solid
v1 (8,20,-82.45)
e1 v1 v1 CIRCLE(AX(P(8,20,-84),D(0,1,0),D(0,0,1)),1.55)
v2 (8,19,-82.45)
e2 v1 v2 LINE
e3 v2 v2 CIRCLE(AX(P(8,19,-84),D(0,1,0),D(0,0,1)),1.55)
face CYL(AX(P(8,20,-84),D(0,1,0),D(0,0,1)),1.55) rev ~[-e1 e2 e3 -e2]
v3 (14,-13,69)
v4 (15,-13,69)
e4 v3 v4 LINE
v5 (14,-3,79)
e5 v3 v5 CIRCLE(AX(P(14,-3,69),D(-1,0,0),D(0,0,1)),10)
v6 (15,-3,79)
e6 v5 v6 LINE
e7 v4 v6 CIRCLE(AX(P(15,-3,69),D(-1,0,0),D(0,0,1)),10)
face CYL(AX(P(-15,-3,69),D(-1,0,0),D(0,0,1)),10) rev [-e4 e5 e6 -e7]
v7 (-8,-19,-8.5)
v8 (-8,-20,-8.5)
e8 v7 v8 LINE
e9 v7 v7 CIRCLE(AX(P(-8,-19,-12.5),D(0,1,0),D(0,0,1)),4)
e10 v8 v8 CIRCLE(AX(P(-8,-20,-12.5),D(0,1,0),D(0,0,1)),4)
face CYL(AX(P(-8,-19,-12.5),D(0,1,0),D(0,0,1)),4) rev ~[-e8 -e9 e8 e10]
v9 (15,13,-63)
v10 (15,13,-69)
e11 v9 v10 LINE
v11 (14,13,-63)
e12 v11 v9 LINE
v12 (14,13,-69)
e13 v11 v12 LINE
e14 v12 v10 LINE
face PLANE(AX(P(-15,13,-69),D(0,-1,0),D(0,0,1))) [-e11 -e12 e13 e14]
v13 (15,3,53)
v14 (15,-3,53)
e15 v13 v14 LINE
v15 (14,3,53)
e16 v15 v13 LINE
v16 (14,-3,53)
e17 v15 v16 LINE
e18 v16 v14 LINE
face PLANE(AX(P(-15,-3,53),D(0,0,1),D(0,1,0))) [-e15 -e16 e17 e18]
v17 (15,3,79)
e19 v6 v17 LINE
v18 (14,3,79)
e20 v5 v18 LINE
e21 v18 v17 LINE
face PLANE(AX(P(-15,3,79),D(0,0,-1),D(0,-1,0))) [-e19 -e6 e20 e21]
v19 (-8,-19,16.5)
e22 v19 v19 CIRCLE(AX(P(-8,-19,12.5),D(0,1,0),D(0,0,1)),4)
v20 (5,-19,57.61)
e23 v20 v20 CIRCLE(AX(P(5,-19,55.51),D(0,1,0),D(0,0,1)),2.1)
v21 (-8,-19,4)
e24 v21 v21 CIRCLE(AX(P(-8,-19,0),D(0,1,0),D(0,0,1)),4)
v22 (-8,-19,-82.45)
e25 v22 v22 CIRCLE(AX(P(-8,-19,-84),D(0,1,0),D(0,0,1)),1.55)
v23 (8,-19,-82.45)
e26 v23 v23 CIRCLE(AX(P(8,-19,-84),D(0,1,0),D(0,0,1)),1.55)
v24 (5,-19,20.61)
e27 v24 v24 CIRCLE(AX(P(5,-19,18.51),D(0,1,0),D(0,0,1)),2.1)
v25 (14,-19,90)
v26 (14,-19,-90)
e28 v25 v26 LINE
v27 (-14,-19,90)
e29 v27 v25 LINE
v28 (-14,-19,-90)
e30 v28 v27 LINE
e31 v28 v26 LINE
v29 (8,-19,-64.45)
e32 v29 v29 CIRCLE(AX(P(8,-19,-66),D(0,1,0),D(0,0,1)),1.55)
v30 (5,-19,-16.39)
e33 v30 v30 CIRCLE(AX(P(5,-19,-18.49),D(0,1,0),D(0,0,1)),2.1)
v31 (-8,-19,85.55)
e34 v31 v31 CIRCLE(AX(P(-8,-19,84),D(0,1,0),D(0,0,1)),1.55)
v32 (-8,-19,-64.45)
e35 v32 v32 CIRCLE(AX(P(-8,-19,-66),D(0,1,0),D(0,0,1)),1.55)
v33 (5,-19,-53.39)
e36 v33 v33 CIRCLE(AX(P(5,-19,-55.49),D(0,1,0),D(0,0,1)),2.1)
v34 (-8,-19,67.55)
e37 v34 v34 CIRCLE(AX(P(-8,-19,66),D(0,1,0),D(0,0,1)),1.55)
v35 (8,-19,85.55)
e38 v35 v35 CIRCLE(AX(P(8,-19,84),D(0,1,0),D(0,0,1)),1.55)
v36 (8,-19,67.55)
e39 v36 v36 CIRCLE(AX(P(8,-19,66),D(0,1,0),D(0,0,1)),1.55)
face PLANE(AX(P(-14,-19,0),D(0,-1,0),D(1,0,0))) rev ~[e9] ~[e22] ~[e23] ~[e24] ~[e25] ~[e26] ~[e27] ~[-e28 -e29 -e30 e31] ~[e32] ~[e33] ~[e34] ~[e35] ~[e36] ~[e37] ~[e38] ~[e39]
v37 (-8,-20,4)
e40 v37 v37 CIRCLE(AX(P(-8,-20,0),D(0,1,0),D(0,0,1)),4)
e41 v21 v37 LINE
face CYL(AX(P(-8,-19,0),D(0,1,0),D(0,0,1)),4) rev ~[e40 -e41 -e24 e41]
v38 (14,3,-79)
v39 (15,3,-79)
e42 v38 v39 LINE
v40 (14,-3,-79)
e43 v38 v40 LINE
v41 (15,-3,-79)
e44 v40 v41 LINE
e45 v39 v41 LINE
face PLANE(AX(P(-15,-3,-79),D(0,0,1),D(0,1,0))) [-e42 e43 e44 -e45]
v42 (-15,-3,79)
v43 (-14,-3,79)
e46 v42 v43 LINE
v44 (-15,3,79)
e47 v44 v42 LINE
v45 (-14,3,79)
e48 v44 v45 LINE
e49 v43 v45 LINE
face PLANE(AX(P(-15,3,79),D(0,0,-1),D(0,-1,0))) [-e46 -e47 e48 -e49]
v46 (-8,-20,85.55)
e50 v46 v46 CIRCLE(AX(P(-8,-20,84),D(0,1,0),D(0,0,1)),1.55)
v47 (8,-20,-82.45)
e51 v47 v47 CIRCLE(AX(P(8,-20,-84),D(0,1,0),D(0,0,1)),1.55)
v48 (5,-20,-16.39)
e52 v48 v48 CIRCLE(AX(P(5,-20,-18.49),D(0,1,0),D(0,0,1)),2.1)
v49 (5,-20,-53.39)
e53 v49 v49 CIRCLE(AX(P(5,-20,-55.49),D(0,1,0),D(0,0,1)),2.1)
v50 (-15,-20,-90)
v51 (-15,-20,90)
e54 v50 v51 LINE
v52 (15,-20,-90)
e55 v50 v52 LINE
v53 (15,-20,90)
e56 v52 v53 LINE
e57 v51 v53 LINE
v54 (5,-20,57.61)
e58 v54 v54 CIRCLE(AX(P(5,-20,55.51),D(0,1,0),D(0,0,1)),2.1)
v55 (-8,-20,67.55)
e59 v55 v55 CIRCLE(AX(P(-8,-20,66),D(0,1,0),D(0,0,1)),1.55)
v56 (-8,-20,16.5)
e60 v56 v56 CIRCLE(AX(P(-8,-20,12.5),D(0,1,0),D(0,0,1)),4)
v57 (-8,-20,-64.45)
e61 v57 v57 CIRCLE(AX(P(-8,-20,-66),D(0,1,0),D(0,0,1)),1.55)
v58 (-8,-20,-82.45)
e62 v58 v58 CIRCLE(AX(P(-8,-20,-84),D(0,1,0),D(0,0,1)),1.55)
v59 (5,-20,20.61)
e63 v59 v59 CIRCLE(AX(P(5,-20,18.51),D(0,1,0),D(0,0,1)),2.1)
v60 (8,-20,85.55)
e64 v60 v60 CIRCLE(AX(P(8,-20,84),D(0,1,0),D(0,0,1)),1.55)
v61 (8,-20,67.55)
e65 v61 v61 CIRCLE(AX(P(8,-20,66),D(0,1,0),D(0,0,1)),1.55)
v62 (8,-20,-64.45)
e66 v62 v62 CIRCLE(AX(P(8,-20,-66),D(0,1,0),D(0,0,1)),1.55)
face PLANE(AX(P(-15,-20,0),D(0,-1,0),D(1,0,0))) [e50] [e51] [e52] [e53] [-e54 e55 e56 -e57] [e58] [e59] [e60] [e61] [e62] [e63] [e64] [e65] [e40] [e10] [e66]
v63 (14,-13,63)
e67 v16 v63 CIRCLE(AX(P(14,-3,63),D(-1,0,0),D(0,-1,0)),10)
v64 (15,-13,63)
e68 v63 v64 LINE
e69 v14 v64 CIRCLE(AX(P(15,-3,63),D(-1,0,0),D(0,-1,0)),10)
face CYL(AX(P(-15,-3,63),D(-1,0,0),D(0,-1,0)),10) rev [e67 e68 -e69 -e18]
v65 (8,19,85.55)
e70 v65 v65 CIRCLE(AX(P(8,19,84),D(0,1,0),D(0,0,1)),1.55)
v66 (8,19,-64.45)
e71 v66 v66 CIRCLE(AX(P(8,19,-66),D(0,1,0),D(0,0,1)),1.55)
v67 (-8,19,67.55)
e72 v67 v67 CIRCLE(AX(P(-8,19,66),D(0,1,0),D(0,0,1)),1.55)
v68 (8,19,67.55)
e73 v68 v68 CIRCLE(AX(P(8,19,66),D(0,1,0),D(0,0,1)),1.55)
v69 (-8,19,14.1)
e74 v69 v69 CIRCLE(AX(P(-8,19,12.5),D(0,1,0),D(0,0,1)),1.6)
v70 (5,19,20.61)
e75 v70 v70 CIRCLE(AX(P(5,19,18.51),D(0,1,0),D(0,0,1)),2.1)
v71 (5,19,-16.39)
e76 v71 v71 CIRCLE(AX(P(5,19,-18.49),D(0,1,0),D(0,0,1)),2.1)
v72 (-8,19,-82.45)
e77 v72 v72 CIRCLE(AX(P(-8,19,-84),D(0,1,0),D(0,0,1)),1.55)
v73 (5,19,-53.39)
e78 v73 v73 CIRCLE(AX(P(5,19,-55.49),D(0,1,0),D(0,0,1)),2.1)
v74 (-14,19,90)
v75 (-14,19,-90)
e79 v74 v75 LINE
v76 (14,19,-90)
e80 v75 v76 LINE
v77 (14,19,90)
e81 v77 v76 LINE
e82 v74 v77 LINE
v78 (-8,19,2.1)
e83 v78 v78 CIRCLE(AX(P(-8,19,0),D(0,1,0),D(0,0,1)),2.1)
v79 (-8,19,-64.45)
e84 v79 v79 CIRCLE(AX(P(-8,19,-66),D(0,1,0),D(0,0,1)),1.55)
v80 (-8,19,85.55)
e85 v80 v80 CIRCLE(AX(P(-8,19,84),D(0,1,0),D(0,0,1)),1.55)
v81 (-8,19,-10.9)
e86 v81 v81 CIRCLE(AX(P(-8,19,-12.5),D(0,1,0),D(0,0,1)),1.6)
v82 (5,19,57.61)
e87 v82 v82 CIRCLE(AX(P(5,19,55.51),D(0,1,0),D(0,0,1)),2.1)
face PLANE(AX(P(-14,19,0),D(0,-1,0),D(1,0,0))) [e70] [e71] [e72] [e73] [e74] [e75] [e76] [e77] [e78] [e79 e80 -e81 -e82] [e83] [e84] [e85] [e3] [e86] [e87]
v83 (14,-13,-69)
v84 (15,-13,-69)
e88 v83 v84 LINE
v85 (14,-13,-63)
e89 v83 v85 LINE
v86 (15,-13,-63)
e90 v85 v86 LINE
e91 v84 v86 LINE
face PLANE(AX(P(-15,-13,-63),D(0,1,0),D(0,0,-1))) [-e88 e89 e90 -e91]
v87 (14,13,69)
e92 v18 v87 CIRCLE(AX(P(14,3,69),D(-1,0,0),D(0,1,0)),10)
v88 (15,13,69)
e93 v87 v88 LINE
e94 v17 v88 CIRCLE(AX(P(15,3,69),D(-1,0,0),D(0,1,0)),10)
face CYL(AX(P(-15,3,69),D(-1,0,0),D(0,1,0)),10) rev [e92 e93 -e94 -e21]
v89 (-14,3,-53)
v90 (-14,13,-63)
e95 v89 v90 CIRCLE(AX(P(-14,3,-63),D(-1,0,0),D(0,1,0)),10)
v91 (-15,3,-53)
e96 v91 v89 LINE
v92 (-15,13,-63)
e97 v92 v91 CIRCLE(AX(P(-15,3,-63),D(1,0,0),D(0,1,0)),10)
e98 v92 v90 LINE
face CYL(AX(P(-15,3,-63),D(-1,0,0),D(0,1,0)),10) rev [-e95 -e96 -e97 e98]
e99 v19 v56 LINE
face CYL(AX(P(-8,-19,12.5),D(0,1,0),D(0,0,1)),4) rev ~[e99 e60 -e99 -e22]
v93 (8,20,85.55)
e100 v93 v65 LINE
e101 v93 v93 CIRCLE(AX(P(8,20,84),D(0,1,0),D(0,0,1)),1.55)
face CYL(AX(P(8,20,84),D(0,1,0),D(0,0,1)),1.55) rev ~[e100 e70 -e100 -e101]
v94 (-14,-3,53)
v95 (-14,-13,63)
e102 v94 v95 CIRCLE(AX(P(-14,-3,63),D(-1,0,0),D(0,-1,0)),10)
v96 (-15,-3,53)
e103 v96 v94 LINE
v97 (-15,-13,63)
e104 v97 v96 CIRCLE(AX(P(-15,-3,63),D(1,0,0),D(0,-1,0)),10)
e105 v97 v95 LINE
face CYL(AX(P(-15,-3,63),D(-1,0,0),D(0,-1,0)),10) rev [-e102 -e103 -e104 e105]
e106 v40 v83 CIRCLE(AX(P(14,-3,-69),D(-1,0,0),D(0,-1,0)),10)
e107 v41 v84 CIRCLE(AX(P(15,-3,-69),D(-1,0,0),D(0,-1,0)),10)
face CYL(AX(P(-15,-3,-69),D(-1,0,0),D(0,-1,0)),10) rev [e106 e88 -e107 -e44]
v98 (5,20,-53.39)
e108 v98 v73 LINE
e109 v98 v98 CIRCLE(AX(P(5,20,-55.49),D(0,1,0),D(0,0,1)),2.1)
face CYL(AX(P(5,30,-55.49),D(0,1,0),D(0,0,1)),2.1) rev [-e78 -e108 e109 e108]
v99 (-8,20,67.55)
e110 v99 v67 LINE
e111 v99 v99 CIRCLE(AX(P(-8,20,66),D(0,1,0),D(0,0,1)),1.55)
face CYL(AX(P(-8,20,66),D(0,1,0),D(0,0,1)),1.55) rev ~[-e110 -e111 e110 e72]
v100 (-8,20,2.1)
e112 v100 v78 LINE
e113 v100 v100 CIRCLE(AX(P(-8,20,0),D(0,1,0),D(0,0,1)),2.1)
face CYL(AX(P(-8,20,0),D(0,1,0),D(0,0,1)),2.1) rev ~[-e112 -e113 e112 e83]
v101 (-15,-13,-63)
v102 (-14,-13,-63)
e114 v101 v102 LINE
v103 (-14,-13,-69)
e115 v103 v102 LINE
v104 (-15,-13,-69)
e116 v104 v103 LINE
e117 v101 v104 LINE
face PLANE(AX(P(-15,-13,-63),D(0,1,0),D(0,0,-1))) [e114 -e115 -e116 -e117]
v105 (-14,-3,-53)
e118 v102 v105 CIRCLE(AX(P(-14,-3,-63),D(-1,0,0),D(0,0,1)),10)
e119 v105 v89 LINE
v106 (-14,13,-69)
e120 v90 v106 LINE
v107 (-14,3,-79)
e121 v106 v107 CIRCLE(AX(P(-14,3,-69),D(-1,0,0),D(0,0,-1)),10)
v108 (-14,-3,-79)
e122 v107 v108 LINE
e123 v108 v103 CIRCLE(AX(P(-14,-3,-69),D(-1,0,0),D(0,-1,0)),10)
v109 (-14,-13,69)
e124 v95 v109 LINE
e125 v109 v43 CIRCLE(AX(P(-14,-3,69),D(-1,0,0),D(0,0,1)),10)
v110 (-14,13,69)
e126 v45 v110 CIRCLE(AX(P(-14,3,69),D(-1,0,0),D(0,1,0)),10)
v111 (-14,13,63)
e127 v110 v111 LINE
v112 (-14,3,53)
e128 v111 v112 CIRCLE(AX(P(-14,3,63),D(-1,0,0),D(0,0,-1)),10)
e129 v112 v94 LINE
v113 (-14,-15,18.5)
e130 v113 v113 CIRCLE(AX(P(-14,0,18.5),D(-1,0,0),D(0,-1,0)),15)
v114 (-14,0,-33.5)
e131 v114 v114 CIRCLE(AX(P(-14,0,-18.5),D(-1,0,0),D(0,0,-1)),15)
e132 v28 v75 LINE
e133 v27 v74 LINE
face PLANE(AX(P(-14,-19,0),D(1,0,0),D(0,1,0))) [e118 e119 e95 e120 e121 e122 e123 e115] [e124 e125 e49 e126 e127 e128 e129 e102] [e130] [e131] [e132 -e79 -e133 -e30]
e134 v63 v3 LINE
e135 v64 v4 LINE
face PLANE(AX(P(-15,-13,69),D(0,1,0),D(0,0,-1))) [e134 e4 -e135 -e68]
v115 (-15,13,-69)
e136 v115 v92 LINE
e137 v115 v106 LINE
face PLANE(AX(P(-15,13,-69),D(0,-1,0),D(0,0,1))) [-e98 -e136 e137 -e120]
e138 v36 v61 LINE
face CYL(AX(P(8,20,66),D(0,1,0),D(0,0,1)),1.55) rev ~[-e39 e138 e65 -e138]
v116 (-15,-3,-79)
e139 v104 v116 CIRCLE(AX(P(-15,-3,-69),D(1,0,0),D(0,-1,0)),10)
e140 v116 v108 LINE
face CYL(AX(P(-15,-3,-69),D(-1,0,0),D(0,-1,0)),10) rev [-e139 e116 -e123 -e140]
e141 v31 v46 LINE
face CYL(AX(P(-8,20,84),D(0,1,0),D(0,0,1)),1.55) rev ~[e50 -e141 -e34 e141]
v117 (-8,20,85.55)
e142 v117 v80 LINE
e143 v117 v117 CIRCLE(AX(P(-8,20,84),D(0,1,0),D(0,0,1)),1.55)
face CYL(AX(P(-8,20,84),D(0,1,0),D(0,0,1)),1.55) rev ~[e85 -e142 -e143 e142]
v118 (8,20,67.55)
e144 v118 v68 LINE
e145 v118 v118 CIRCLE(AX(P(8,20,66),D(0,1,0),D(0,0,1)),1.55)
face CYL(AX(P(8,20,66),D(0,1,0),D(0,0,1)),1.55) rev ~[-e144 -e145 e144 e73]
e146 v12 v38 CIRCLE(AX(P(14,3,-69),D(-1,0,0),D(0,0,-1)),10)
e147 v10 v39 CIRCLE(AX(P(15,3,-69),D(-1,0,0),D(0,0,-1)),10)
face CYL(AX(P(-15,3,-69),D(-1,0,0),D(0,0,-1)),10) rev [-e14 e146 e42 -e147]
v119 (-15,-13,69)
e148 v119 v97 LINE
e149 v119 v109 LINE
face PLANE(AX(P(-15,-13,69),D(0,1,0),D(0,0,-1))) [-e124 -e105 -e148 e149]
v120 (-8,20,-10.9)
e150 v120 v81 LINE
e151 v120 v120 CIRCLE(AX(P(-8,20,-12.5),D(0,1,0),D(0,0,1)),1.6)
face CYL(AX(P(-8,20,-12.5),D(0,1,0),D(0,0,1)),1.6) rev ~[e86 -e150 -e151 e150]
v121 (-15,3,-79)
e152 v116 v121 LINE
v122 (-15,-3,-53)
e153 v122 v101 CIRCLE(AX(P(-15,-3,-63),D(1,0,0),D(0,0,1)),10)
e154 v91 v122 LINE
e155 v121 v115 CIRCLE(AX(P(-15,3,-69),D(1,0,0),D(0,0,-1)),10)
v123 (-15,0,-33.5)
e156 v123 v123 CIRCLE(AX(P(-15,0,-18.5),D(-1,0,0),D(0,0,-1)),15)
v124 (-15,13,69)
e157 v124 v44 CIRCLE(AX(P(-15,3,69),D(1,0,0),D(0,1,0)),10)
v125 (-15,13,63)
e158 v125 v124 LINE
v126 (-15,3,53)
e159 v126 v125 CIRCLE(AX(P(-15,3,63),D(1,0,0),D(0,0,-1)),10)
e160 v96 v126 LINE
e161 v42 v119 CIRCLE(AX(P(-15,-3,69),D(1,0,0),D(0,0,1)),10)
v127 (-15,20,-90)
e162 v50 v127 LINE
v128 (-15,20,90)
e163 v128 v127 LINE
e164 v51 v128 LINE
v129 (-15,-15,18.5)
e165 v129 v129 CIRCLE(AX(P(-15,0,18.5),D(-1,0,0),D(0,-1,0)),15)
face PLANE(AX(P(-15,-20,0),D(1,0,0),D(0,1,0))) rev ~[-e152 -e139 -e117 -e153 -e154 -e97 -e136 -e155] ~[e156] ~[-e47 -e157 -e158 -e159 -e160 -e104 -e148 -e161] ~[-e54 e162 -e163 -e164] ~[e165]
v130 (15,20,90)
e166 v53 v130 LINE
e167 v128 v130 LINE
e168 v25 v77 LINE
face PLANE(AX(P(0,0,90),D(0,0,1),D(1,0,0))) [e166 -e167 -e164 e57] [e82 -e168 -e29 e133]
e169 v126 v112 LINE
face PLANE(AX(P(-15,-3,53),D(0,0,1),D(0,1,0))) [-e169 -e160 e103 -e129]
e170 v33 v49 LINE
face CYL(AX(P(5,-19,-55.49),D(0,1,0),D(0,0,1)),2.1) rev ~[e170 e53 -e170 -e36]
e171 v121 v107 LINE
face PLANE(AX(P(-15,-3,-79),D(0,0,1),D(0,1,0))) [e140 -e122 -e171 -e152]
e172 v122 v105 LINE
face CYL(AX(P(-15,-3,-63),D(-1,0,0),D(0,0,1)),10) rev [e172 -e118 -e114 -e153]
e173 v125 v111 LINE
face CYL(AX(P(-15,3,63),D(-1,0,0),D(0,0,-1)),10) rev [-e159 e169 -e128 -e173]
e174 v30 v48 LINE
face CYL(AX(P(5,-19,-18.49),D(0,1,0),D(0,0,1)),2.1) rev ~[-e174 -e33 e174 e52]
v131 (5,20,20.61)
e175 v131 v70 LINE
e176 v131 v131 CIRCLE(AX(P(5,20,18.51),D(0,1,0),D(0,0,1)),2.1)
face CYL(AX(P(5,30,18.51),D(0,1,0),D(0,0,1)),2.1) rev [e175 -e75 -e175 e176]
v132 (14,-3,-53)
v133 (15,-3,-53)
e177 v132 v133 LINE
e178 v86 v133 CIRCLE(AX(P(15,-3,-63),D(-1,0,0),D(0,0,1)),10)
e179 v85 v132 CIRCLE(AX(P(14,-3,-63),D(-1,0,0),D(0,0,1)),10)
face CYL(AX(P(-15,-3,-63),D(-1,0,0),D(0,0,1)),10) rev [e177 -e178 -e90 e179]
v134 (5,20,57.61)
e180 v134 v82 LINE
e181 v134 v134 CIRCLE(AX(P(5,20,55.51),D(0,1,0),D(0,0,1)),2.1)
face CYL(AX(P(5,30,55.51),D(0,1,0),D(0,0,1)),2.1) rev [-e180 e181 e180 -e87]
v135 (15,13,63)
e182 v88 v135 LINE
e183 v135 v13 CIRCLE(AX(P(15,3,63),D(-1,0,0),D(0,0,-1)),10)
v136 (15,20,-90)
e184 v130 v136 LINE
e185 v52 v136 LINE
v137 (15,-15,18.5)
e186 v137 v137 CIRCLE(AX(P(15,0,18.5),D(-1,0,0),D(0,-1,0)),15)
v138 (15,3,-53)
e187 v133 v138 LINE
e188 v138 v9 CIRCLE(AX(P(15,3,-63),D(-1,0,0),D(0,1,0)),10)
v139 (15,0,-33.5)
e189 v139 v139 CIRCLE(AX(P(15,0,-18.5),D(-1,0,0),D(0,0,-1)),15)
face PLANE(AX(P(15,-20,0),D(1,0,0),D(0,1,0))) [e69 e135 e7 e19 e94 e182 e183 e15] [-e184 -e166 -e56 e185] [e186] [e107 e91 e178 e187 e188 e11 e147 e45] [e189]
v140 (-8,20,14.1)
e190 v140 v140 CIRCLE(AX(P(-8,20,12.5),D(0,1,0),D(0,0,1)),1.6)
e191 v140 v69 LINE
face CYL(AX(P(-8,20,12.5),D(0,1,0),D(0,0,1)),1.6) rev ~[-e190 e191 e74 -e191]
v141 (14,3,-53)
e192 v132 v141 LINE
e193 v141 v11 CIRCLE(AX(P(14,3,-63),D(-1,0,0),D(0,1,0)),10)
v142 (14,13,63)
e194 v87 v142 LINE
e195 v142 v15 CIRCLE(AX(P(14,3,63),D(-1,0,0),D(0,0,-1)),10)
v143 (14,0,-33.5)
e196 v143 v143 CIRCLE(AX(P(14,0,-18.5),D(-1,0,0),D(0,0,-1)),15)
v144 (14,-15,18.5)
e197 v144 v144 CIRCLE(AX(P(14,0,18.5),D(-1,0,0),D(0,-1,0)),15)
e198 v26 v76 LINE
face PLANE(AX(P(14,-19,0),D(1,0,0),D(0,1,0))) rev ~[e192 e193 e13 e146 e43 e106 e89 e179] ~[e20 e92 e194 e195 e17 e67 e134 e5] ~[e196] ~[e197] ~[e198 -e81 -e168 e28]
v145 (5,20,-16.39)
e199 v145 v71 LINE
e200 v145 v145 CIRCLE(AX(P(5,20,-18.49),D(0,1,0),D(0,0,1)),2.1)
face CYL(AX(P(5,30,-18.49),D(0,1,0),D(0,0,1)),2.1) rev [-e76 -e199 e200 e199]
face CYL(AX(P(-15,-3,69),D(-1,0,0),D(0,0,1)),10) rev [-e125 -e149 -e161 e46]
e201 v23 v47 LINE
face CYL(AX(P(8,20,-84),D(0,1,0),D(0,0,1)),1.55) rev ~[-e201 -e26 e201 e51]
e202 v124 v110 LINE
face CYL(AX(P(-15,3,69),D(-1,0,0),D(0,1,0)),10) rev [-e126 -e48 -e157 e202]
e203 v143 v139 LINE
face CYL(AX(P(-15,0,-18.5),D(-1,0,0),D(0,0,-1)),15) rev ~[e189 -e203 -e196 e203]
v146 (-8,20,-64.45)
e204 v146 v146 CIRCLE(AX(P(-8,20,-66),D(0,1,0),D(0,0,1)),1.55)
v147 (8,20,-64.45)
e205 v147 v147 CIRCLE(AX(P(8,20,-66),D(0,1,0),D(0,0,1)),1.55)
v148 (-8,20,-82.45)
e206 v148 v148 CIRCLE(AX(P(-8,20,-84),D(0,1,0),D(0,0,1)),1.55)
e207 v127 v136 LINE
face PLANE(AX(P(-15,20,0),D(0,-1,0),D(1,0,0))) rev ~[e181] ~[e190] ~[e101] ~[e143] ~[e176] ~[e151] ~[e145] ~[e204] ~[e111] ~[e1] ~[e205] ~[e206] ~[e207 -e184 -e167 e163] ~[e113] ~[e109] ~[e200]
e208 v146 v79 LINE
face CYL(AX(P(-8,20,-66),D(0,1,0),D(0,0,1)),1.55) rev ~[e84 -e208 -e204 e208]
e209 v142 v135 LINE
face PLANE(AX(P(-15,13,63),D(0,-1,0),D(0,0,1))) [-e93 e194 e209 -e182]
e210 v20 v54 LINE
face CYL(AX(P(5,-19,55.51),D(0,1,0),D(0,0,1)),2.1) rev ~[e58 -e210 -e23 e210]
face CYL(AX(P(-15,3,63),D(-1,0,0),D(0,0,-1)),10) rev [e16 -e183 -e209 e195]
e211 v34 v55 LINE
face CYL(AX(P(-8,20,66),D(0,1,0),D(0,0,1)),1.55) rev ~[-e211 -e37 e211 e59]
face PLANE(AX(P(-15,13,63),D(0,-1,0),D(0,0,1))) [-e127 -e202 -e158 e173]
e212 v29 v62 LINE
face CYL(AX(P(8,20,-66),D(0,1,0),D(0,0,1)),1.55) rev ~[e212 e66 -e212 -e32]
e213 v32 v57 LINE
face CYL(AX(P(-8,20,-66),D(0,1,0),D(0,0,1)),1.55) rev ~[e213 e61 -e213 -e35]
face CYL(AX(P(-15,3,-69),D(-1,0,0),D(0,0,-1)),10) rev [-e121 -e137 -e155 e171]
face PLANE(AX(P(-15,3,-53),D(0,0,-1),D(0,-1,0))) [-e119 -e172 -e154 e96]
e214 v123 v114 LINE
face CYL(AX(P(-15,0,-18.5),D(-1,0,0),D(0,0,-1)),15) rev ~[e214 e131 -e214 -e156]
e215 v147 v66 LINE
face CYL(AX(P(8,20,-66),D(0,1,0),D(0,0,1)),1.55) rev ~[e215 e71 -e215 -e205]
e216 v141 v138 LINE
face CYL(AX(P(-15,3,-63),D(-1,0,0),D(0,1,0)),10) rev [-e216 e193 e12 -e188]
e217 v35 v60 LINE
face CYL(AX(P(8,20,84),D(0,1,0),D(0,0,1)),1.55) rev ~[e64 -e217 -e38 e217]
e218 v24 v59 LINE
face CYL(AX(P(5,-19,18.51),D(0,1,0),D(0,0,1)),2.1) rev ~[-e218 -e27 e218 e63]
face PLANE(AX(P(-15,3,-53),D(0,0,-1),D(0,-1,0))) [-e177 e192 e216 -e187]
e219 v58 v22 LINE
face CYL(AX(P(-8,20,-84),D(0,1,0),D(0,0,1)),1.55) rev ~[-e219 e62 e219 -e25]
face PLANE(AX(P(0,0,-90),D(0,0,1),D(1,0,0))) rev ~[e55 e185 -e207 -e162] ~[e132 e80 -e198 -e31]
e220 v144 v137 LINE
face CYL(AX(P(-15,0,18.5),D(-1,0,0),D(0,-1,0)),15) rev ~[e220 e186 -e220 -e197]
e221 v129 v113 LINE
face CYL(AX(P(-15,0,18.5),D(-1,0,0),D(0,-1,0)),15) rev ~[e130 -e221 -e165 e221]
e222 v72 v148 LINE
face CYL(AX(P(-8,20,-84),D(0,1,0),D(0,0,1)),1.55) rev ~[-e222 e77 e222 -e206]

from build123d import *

# Parameters (mm, degrees)
SKETCH_1_W          = 30
SKETCH_1_H          = 40
SKETCH_1_W_2        = 28
SKETCH_1_H_2        = 38
EXTRUDE_1_DEPTH     = 90
SKETCH_2_R          = 1.55
CUT_EXTRUDE_1_DEPTH = 40
SKETCH_3_R          = 2.1
CUT_EXTRUDE_2_DEPTH = 10
SKETCH_4_R          = 15
CUT_EXTRUDE_3_DEPTH = 40
SKETCH_5_R          = 2.1
SKETCH_5_R_2        = 1.6
CUT_EXTRUDE_4_DEPTH = 10
SKETCH_6_R          = 4
CUT_EXTRUDE_5_DEPTH = 10
CUT_EXTRUDE_START   = -50
SKETCH_7_R          = 2.1
CUT_EXTRUDE_6_DEPTH = 50


with BuildPart() as part:
    # 草图1 → 凸台-拉伸1 (new, symmetric)
    with BuildSketch(Plane.XY):
        Rectangle(SKETCH_1_W, SKETCH_1_H)
        Rectangle(SKETCH_1_W_2, SKETCH_1_H_2, mode=Mode.SUBTRACT)
    extrude(amount=EXTRUDE_1_DEPTH, both=True)

    # 草图2 → 切除-拉伸1 (cut, symmetric)
    with BuildSketch(Plane(origin=(0, 20, 0), x_dir=(1, 0, 0), z_dir=(0, 1, 0))):
        with Locations(Location((-8, -84, 0), (0, 0, 270))):
            Circle(SKETCH_2_R)
        with Locations(Location((8, -84, 0), (0, 0, 270))):
            Circle(SKETCH_2_R)
        with Locations(Location((8, -66, 0), (0, 0, 270))):
            Circle(SKETCH_2_R)
        with Locations(Location((-8, -66, 0), (0, 0, 270))):
            Circle(SKETCH_2_R)
        with Locations(Location((-8, 66, 0), (0, 0, 270))):
            Circle(SKETCH_2_R)
        with Locations(Location((8, 66, 0), (0, 0, 270))):
            Circle(SKETCH_2_R)
        with Locations(Location((8, 84, 0), (0, 0, 270))):
            Circle(SKETCH_2_R)
        with Locations(Location((-8, 84, 0), (0, 0, 270))):
            Circle(SKETCH_2_R)
    extrude(amount=CUT_EXTRUDE_1_DEPTH, both=True, mode=Mode.SUBTRACT)

    # 草图3 → 切除-拉伸2 (cut)
    with BuildSketch(Plane(origin=(0, -19, 0), x_dir=(1, 0, 0), z_dir=(0, 1, 0))):
        with Locations(Location((5, -55.51, 0), (0, 0, 270))):
            Circle(SKETCH_3_R)
        with Locations(Location((5, -18.51, 0), (0, 0, 270))):
            Circle(SKETCH_3_R)
        with Locations(Location((5, 18.49, 0), (0, 0, 270))):
            Circle(SKETCH_3_R)
        with Locations(Location((5, 55.49, 0), (0, 0, 270))):
            Circle(SKETCH_3_R)
    extrude(amount=-CUT_EXTRUDE_2_DEPTH, mode=Mode.SUBTRACT)

    # 草图4 → 切除-拉伸3 (cut)
    with BuildSketch(Plane.ZY.offset(15)):
        with Locations(Location((18.5, 0, 0), (0, 0, 270))):
            Circle(SKETCH_4_R)
        with Locations(Location((-18.5, 0, 0), (0, 0, 180))):
            Circle(SKETCH_4_R)
        with BuildLine():
            Line((63, 13), (69, 13))
            ThreePointArc((69, 13), (76.071067812, 10.071067812), (79, 3))
            Line((79, 3), (79, -3))
            ThreePointArc((79, -3), (76.071067812, -10.071067812), (69, -13))
            Line((69, -13), (63, -13))
            ThreePointArc((63, -13), (55.928932188, -10.071067812), (53, -3))
            Line((53, -3), (53, 3))
            ThreePointArc((53, 3), (55.928932188, 10.071067812), (63, 13))
        make_face()
        with BuildLine():
            Line((-63, -13), (-69, -13))
            ThreePointArc((-69, -13), (-76.071067812, -10.071067812), (-79, -3))
            Line((-79, -3), (-79, 3))
            ThreePointArc((-79, 3), (-76.071067812, 10.071067812), (-69, 13))
            Line((-69, 13), (-63, 13))
            ThreePointArc((-63, 13), (-55.928932188, 10.071067812), (-53, 3))
            Line((-53, 3), (-53, -3))
            ThreePointArc((-53, -3), (-55.928932188, -10.071067812), (-63, -13))
        make_face()
    extrude(amount=-CUT_EXTRUDE_3_DEPTH, mode=Mode.SUBTRACT)

    # 草图5 → 切除-拉伸4 (cut)
    with BuildSketch(Plane(origin=(0, 20, 0), x_dir=(1, 0, 0), z_dir=(0, 1, 0))):
        with Locations(Location((-8, 0, 0), (0, 0, 270))):
            Circle(SKETCH_5_R)
        with Locations(Location((-8, 12.5, 0), (0, 0, 270))):
            Circle(SKETCH_5_R_2)
        with Locations(Location((-8, -12.5, 0), (0, 0, 270))):
            Circle(SKETCH_5_R_2)
    extrude(amount=-CUT_EXTRUDE_4_DEPTH, mode=Mode.SUBTRACT)

    # 草图6 → 切除-拉伸5 (cut)
    with BuildSketch(Plane(origin=(0, -19, 0), x_dir=(1, 0, 0), z_dir=(0, 1, 0))):
        with Locations(Location((-8, -12.5, 0), (0, 0, 270))):
            Circle(SKETCH_6_R)
        with Locations(Location((-8, 12.5, 0), (0, 0, 270))):
            Circle(SKETCH_6_R)
        with Locations(Location((-8, 0, 0), (0, 0, 270))):
            Circle(SKETCH_6_R)
    extrude(amount=-CUT_EXTRUDE_5_DEPTH, mode=Mode.SUBTRACT)

    # 草图7 → 切除-拉伸6 (cut)
    with BuildSketch(Plane.XZ.offset(20).offset(CUT_EXTRUDE_START)):
        with Locations(Location((5, -55.49, 0), (0, 0, 90))):
            Circle(SKETCH_7_R)
        with Locations(Location((5, -18.49, 0), (0, 0, 90))):
            Circle(SKETCH_7_R)
        with Locations(Location((5, 18.51, 0), (0, 0, 90))):
            Circle(SKETCH_7_R)
        with Locations(Location((5, 55.51, 0), (0, 0, 90))):
            Circle(SKETCH_7_R)
    extrude(amount=CUT_EXTRUDE_6_DEPTH, mode=Mode.SUBTRACT)


solid = part.part
